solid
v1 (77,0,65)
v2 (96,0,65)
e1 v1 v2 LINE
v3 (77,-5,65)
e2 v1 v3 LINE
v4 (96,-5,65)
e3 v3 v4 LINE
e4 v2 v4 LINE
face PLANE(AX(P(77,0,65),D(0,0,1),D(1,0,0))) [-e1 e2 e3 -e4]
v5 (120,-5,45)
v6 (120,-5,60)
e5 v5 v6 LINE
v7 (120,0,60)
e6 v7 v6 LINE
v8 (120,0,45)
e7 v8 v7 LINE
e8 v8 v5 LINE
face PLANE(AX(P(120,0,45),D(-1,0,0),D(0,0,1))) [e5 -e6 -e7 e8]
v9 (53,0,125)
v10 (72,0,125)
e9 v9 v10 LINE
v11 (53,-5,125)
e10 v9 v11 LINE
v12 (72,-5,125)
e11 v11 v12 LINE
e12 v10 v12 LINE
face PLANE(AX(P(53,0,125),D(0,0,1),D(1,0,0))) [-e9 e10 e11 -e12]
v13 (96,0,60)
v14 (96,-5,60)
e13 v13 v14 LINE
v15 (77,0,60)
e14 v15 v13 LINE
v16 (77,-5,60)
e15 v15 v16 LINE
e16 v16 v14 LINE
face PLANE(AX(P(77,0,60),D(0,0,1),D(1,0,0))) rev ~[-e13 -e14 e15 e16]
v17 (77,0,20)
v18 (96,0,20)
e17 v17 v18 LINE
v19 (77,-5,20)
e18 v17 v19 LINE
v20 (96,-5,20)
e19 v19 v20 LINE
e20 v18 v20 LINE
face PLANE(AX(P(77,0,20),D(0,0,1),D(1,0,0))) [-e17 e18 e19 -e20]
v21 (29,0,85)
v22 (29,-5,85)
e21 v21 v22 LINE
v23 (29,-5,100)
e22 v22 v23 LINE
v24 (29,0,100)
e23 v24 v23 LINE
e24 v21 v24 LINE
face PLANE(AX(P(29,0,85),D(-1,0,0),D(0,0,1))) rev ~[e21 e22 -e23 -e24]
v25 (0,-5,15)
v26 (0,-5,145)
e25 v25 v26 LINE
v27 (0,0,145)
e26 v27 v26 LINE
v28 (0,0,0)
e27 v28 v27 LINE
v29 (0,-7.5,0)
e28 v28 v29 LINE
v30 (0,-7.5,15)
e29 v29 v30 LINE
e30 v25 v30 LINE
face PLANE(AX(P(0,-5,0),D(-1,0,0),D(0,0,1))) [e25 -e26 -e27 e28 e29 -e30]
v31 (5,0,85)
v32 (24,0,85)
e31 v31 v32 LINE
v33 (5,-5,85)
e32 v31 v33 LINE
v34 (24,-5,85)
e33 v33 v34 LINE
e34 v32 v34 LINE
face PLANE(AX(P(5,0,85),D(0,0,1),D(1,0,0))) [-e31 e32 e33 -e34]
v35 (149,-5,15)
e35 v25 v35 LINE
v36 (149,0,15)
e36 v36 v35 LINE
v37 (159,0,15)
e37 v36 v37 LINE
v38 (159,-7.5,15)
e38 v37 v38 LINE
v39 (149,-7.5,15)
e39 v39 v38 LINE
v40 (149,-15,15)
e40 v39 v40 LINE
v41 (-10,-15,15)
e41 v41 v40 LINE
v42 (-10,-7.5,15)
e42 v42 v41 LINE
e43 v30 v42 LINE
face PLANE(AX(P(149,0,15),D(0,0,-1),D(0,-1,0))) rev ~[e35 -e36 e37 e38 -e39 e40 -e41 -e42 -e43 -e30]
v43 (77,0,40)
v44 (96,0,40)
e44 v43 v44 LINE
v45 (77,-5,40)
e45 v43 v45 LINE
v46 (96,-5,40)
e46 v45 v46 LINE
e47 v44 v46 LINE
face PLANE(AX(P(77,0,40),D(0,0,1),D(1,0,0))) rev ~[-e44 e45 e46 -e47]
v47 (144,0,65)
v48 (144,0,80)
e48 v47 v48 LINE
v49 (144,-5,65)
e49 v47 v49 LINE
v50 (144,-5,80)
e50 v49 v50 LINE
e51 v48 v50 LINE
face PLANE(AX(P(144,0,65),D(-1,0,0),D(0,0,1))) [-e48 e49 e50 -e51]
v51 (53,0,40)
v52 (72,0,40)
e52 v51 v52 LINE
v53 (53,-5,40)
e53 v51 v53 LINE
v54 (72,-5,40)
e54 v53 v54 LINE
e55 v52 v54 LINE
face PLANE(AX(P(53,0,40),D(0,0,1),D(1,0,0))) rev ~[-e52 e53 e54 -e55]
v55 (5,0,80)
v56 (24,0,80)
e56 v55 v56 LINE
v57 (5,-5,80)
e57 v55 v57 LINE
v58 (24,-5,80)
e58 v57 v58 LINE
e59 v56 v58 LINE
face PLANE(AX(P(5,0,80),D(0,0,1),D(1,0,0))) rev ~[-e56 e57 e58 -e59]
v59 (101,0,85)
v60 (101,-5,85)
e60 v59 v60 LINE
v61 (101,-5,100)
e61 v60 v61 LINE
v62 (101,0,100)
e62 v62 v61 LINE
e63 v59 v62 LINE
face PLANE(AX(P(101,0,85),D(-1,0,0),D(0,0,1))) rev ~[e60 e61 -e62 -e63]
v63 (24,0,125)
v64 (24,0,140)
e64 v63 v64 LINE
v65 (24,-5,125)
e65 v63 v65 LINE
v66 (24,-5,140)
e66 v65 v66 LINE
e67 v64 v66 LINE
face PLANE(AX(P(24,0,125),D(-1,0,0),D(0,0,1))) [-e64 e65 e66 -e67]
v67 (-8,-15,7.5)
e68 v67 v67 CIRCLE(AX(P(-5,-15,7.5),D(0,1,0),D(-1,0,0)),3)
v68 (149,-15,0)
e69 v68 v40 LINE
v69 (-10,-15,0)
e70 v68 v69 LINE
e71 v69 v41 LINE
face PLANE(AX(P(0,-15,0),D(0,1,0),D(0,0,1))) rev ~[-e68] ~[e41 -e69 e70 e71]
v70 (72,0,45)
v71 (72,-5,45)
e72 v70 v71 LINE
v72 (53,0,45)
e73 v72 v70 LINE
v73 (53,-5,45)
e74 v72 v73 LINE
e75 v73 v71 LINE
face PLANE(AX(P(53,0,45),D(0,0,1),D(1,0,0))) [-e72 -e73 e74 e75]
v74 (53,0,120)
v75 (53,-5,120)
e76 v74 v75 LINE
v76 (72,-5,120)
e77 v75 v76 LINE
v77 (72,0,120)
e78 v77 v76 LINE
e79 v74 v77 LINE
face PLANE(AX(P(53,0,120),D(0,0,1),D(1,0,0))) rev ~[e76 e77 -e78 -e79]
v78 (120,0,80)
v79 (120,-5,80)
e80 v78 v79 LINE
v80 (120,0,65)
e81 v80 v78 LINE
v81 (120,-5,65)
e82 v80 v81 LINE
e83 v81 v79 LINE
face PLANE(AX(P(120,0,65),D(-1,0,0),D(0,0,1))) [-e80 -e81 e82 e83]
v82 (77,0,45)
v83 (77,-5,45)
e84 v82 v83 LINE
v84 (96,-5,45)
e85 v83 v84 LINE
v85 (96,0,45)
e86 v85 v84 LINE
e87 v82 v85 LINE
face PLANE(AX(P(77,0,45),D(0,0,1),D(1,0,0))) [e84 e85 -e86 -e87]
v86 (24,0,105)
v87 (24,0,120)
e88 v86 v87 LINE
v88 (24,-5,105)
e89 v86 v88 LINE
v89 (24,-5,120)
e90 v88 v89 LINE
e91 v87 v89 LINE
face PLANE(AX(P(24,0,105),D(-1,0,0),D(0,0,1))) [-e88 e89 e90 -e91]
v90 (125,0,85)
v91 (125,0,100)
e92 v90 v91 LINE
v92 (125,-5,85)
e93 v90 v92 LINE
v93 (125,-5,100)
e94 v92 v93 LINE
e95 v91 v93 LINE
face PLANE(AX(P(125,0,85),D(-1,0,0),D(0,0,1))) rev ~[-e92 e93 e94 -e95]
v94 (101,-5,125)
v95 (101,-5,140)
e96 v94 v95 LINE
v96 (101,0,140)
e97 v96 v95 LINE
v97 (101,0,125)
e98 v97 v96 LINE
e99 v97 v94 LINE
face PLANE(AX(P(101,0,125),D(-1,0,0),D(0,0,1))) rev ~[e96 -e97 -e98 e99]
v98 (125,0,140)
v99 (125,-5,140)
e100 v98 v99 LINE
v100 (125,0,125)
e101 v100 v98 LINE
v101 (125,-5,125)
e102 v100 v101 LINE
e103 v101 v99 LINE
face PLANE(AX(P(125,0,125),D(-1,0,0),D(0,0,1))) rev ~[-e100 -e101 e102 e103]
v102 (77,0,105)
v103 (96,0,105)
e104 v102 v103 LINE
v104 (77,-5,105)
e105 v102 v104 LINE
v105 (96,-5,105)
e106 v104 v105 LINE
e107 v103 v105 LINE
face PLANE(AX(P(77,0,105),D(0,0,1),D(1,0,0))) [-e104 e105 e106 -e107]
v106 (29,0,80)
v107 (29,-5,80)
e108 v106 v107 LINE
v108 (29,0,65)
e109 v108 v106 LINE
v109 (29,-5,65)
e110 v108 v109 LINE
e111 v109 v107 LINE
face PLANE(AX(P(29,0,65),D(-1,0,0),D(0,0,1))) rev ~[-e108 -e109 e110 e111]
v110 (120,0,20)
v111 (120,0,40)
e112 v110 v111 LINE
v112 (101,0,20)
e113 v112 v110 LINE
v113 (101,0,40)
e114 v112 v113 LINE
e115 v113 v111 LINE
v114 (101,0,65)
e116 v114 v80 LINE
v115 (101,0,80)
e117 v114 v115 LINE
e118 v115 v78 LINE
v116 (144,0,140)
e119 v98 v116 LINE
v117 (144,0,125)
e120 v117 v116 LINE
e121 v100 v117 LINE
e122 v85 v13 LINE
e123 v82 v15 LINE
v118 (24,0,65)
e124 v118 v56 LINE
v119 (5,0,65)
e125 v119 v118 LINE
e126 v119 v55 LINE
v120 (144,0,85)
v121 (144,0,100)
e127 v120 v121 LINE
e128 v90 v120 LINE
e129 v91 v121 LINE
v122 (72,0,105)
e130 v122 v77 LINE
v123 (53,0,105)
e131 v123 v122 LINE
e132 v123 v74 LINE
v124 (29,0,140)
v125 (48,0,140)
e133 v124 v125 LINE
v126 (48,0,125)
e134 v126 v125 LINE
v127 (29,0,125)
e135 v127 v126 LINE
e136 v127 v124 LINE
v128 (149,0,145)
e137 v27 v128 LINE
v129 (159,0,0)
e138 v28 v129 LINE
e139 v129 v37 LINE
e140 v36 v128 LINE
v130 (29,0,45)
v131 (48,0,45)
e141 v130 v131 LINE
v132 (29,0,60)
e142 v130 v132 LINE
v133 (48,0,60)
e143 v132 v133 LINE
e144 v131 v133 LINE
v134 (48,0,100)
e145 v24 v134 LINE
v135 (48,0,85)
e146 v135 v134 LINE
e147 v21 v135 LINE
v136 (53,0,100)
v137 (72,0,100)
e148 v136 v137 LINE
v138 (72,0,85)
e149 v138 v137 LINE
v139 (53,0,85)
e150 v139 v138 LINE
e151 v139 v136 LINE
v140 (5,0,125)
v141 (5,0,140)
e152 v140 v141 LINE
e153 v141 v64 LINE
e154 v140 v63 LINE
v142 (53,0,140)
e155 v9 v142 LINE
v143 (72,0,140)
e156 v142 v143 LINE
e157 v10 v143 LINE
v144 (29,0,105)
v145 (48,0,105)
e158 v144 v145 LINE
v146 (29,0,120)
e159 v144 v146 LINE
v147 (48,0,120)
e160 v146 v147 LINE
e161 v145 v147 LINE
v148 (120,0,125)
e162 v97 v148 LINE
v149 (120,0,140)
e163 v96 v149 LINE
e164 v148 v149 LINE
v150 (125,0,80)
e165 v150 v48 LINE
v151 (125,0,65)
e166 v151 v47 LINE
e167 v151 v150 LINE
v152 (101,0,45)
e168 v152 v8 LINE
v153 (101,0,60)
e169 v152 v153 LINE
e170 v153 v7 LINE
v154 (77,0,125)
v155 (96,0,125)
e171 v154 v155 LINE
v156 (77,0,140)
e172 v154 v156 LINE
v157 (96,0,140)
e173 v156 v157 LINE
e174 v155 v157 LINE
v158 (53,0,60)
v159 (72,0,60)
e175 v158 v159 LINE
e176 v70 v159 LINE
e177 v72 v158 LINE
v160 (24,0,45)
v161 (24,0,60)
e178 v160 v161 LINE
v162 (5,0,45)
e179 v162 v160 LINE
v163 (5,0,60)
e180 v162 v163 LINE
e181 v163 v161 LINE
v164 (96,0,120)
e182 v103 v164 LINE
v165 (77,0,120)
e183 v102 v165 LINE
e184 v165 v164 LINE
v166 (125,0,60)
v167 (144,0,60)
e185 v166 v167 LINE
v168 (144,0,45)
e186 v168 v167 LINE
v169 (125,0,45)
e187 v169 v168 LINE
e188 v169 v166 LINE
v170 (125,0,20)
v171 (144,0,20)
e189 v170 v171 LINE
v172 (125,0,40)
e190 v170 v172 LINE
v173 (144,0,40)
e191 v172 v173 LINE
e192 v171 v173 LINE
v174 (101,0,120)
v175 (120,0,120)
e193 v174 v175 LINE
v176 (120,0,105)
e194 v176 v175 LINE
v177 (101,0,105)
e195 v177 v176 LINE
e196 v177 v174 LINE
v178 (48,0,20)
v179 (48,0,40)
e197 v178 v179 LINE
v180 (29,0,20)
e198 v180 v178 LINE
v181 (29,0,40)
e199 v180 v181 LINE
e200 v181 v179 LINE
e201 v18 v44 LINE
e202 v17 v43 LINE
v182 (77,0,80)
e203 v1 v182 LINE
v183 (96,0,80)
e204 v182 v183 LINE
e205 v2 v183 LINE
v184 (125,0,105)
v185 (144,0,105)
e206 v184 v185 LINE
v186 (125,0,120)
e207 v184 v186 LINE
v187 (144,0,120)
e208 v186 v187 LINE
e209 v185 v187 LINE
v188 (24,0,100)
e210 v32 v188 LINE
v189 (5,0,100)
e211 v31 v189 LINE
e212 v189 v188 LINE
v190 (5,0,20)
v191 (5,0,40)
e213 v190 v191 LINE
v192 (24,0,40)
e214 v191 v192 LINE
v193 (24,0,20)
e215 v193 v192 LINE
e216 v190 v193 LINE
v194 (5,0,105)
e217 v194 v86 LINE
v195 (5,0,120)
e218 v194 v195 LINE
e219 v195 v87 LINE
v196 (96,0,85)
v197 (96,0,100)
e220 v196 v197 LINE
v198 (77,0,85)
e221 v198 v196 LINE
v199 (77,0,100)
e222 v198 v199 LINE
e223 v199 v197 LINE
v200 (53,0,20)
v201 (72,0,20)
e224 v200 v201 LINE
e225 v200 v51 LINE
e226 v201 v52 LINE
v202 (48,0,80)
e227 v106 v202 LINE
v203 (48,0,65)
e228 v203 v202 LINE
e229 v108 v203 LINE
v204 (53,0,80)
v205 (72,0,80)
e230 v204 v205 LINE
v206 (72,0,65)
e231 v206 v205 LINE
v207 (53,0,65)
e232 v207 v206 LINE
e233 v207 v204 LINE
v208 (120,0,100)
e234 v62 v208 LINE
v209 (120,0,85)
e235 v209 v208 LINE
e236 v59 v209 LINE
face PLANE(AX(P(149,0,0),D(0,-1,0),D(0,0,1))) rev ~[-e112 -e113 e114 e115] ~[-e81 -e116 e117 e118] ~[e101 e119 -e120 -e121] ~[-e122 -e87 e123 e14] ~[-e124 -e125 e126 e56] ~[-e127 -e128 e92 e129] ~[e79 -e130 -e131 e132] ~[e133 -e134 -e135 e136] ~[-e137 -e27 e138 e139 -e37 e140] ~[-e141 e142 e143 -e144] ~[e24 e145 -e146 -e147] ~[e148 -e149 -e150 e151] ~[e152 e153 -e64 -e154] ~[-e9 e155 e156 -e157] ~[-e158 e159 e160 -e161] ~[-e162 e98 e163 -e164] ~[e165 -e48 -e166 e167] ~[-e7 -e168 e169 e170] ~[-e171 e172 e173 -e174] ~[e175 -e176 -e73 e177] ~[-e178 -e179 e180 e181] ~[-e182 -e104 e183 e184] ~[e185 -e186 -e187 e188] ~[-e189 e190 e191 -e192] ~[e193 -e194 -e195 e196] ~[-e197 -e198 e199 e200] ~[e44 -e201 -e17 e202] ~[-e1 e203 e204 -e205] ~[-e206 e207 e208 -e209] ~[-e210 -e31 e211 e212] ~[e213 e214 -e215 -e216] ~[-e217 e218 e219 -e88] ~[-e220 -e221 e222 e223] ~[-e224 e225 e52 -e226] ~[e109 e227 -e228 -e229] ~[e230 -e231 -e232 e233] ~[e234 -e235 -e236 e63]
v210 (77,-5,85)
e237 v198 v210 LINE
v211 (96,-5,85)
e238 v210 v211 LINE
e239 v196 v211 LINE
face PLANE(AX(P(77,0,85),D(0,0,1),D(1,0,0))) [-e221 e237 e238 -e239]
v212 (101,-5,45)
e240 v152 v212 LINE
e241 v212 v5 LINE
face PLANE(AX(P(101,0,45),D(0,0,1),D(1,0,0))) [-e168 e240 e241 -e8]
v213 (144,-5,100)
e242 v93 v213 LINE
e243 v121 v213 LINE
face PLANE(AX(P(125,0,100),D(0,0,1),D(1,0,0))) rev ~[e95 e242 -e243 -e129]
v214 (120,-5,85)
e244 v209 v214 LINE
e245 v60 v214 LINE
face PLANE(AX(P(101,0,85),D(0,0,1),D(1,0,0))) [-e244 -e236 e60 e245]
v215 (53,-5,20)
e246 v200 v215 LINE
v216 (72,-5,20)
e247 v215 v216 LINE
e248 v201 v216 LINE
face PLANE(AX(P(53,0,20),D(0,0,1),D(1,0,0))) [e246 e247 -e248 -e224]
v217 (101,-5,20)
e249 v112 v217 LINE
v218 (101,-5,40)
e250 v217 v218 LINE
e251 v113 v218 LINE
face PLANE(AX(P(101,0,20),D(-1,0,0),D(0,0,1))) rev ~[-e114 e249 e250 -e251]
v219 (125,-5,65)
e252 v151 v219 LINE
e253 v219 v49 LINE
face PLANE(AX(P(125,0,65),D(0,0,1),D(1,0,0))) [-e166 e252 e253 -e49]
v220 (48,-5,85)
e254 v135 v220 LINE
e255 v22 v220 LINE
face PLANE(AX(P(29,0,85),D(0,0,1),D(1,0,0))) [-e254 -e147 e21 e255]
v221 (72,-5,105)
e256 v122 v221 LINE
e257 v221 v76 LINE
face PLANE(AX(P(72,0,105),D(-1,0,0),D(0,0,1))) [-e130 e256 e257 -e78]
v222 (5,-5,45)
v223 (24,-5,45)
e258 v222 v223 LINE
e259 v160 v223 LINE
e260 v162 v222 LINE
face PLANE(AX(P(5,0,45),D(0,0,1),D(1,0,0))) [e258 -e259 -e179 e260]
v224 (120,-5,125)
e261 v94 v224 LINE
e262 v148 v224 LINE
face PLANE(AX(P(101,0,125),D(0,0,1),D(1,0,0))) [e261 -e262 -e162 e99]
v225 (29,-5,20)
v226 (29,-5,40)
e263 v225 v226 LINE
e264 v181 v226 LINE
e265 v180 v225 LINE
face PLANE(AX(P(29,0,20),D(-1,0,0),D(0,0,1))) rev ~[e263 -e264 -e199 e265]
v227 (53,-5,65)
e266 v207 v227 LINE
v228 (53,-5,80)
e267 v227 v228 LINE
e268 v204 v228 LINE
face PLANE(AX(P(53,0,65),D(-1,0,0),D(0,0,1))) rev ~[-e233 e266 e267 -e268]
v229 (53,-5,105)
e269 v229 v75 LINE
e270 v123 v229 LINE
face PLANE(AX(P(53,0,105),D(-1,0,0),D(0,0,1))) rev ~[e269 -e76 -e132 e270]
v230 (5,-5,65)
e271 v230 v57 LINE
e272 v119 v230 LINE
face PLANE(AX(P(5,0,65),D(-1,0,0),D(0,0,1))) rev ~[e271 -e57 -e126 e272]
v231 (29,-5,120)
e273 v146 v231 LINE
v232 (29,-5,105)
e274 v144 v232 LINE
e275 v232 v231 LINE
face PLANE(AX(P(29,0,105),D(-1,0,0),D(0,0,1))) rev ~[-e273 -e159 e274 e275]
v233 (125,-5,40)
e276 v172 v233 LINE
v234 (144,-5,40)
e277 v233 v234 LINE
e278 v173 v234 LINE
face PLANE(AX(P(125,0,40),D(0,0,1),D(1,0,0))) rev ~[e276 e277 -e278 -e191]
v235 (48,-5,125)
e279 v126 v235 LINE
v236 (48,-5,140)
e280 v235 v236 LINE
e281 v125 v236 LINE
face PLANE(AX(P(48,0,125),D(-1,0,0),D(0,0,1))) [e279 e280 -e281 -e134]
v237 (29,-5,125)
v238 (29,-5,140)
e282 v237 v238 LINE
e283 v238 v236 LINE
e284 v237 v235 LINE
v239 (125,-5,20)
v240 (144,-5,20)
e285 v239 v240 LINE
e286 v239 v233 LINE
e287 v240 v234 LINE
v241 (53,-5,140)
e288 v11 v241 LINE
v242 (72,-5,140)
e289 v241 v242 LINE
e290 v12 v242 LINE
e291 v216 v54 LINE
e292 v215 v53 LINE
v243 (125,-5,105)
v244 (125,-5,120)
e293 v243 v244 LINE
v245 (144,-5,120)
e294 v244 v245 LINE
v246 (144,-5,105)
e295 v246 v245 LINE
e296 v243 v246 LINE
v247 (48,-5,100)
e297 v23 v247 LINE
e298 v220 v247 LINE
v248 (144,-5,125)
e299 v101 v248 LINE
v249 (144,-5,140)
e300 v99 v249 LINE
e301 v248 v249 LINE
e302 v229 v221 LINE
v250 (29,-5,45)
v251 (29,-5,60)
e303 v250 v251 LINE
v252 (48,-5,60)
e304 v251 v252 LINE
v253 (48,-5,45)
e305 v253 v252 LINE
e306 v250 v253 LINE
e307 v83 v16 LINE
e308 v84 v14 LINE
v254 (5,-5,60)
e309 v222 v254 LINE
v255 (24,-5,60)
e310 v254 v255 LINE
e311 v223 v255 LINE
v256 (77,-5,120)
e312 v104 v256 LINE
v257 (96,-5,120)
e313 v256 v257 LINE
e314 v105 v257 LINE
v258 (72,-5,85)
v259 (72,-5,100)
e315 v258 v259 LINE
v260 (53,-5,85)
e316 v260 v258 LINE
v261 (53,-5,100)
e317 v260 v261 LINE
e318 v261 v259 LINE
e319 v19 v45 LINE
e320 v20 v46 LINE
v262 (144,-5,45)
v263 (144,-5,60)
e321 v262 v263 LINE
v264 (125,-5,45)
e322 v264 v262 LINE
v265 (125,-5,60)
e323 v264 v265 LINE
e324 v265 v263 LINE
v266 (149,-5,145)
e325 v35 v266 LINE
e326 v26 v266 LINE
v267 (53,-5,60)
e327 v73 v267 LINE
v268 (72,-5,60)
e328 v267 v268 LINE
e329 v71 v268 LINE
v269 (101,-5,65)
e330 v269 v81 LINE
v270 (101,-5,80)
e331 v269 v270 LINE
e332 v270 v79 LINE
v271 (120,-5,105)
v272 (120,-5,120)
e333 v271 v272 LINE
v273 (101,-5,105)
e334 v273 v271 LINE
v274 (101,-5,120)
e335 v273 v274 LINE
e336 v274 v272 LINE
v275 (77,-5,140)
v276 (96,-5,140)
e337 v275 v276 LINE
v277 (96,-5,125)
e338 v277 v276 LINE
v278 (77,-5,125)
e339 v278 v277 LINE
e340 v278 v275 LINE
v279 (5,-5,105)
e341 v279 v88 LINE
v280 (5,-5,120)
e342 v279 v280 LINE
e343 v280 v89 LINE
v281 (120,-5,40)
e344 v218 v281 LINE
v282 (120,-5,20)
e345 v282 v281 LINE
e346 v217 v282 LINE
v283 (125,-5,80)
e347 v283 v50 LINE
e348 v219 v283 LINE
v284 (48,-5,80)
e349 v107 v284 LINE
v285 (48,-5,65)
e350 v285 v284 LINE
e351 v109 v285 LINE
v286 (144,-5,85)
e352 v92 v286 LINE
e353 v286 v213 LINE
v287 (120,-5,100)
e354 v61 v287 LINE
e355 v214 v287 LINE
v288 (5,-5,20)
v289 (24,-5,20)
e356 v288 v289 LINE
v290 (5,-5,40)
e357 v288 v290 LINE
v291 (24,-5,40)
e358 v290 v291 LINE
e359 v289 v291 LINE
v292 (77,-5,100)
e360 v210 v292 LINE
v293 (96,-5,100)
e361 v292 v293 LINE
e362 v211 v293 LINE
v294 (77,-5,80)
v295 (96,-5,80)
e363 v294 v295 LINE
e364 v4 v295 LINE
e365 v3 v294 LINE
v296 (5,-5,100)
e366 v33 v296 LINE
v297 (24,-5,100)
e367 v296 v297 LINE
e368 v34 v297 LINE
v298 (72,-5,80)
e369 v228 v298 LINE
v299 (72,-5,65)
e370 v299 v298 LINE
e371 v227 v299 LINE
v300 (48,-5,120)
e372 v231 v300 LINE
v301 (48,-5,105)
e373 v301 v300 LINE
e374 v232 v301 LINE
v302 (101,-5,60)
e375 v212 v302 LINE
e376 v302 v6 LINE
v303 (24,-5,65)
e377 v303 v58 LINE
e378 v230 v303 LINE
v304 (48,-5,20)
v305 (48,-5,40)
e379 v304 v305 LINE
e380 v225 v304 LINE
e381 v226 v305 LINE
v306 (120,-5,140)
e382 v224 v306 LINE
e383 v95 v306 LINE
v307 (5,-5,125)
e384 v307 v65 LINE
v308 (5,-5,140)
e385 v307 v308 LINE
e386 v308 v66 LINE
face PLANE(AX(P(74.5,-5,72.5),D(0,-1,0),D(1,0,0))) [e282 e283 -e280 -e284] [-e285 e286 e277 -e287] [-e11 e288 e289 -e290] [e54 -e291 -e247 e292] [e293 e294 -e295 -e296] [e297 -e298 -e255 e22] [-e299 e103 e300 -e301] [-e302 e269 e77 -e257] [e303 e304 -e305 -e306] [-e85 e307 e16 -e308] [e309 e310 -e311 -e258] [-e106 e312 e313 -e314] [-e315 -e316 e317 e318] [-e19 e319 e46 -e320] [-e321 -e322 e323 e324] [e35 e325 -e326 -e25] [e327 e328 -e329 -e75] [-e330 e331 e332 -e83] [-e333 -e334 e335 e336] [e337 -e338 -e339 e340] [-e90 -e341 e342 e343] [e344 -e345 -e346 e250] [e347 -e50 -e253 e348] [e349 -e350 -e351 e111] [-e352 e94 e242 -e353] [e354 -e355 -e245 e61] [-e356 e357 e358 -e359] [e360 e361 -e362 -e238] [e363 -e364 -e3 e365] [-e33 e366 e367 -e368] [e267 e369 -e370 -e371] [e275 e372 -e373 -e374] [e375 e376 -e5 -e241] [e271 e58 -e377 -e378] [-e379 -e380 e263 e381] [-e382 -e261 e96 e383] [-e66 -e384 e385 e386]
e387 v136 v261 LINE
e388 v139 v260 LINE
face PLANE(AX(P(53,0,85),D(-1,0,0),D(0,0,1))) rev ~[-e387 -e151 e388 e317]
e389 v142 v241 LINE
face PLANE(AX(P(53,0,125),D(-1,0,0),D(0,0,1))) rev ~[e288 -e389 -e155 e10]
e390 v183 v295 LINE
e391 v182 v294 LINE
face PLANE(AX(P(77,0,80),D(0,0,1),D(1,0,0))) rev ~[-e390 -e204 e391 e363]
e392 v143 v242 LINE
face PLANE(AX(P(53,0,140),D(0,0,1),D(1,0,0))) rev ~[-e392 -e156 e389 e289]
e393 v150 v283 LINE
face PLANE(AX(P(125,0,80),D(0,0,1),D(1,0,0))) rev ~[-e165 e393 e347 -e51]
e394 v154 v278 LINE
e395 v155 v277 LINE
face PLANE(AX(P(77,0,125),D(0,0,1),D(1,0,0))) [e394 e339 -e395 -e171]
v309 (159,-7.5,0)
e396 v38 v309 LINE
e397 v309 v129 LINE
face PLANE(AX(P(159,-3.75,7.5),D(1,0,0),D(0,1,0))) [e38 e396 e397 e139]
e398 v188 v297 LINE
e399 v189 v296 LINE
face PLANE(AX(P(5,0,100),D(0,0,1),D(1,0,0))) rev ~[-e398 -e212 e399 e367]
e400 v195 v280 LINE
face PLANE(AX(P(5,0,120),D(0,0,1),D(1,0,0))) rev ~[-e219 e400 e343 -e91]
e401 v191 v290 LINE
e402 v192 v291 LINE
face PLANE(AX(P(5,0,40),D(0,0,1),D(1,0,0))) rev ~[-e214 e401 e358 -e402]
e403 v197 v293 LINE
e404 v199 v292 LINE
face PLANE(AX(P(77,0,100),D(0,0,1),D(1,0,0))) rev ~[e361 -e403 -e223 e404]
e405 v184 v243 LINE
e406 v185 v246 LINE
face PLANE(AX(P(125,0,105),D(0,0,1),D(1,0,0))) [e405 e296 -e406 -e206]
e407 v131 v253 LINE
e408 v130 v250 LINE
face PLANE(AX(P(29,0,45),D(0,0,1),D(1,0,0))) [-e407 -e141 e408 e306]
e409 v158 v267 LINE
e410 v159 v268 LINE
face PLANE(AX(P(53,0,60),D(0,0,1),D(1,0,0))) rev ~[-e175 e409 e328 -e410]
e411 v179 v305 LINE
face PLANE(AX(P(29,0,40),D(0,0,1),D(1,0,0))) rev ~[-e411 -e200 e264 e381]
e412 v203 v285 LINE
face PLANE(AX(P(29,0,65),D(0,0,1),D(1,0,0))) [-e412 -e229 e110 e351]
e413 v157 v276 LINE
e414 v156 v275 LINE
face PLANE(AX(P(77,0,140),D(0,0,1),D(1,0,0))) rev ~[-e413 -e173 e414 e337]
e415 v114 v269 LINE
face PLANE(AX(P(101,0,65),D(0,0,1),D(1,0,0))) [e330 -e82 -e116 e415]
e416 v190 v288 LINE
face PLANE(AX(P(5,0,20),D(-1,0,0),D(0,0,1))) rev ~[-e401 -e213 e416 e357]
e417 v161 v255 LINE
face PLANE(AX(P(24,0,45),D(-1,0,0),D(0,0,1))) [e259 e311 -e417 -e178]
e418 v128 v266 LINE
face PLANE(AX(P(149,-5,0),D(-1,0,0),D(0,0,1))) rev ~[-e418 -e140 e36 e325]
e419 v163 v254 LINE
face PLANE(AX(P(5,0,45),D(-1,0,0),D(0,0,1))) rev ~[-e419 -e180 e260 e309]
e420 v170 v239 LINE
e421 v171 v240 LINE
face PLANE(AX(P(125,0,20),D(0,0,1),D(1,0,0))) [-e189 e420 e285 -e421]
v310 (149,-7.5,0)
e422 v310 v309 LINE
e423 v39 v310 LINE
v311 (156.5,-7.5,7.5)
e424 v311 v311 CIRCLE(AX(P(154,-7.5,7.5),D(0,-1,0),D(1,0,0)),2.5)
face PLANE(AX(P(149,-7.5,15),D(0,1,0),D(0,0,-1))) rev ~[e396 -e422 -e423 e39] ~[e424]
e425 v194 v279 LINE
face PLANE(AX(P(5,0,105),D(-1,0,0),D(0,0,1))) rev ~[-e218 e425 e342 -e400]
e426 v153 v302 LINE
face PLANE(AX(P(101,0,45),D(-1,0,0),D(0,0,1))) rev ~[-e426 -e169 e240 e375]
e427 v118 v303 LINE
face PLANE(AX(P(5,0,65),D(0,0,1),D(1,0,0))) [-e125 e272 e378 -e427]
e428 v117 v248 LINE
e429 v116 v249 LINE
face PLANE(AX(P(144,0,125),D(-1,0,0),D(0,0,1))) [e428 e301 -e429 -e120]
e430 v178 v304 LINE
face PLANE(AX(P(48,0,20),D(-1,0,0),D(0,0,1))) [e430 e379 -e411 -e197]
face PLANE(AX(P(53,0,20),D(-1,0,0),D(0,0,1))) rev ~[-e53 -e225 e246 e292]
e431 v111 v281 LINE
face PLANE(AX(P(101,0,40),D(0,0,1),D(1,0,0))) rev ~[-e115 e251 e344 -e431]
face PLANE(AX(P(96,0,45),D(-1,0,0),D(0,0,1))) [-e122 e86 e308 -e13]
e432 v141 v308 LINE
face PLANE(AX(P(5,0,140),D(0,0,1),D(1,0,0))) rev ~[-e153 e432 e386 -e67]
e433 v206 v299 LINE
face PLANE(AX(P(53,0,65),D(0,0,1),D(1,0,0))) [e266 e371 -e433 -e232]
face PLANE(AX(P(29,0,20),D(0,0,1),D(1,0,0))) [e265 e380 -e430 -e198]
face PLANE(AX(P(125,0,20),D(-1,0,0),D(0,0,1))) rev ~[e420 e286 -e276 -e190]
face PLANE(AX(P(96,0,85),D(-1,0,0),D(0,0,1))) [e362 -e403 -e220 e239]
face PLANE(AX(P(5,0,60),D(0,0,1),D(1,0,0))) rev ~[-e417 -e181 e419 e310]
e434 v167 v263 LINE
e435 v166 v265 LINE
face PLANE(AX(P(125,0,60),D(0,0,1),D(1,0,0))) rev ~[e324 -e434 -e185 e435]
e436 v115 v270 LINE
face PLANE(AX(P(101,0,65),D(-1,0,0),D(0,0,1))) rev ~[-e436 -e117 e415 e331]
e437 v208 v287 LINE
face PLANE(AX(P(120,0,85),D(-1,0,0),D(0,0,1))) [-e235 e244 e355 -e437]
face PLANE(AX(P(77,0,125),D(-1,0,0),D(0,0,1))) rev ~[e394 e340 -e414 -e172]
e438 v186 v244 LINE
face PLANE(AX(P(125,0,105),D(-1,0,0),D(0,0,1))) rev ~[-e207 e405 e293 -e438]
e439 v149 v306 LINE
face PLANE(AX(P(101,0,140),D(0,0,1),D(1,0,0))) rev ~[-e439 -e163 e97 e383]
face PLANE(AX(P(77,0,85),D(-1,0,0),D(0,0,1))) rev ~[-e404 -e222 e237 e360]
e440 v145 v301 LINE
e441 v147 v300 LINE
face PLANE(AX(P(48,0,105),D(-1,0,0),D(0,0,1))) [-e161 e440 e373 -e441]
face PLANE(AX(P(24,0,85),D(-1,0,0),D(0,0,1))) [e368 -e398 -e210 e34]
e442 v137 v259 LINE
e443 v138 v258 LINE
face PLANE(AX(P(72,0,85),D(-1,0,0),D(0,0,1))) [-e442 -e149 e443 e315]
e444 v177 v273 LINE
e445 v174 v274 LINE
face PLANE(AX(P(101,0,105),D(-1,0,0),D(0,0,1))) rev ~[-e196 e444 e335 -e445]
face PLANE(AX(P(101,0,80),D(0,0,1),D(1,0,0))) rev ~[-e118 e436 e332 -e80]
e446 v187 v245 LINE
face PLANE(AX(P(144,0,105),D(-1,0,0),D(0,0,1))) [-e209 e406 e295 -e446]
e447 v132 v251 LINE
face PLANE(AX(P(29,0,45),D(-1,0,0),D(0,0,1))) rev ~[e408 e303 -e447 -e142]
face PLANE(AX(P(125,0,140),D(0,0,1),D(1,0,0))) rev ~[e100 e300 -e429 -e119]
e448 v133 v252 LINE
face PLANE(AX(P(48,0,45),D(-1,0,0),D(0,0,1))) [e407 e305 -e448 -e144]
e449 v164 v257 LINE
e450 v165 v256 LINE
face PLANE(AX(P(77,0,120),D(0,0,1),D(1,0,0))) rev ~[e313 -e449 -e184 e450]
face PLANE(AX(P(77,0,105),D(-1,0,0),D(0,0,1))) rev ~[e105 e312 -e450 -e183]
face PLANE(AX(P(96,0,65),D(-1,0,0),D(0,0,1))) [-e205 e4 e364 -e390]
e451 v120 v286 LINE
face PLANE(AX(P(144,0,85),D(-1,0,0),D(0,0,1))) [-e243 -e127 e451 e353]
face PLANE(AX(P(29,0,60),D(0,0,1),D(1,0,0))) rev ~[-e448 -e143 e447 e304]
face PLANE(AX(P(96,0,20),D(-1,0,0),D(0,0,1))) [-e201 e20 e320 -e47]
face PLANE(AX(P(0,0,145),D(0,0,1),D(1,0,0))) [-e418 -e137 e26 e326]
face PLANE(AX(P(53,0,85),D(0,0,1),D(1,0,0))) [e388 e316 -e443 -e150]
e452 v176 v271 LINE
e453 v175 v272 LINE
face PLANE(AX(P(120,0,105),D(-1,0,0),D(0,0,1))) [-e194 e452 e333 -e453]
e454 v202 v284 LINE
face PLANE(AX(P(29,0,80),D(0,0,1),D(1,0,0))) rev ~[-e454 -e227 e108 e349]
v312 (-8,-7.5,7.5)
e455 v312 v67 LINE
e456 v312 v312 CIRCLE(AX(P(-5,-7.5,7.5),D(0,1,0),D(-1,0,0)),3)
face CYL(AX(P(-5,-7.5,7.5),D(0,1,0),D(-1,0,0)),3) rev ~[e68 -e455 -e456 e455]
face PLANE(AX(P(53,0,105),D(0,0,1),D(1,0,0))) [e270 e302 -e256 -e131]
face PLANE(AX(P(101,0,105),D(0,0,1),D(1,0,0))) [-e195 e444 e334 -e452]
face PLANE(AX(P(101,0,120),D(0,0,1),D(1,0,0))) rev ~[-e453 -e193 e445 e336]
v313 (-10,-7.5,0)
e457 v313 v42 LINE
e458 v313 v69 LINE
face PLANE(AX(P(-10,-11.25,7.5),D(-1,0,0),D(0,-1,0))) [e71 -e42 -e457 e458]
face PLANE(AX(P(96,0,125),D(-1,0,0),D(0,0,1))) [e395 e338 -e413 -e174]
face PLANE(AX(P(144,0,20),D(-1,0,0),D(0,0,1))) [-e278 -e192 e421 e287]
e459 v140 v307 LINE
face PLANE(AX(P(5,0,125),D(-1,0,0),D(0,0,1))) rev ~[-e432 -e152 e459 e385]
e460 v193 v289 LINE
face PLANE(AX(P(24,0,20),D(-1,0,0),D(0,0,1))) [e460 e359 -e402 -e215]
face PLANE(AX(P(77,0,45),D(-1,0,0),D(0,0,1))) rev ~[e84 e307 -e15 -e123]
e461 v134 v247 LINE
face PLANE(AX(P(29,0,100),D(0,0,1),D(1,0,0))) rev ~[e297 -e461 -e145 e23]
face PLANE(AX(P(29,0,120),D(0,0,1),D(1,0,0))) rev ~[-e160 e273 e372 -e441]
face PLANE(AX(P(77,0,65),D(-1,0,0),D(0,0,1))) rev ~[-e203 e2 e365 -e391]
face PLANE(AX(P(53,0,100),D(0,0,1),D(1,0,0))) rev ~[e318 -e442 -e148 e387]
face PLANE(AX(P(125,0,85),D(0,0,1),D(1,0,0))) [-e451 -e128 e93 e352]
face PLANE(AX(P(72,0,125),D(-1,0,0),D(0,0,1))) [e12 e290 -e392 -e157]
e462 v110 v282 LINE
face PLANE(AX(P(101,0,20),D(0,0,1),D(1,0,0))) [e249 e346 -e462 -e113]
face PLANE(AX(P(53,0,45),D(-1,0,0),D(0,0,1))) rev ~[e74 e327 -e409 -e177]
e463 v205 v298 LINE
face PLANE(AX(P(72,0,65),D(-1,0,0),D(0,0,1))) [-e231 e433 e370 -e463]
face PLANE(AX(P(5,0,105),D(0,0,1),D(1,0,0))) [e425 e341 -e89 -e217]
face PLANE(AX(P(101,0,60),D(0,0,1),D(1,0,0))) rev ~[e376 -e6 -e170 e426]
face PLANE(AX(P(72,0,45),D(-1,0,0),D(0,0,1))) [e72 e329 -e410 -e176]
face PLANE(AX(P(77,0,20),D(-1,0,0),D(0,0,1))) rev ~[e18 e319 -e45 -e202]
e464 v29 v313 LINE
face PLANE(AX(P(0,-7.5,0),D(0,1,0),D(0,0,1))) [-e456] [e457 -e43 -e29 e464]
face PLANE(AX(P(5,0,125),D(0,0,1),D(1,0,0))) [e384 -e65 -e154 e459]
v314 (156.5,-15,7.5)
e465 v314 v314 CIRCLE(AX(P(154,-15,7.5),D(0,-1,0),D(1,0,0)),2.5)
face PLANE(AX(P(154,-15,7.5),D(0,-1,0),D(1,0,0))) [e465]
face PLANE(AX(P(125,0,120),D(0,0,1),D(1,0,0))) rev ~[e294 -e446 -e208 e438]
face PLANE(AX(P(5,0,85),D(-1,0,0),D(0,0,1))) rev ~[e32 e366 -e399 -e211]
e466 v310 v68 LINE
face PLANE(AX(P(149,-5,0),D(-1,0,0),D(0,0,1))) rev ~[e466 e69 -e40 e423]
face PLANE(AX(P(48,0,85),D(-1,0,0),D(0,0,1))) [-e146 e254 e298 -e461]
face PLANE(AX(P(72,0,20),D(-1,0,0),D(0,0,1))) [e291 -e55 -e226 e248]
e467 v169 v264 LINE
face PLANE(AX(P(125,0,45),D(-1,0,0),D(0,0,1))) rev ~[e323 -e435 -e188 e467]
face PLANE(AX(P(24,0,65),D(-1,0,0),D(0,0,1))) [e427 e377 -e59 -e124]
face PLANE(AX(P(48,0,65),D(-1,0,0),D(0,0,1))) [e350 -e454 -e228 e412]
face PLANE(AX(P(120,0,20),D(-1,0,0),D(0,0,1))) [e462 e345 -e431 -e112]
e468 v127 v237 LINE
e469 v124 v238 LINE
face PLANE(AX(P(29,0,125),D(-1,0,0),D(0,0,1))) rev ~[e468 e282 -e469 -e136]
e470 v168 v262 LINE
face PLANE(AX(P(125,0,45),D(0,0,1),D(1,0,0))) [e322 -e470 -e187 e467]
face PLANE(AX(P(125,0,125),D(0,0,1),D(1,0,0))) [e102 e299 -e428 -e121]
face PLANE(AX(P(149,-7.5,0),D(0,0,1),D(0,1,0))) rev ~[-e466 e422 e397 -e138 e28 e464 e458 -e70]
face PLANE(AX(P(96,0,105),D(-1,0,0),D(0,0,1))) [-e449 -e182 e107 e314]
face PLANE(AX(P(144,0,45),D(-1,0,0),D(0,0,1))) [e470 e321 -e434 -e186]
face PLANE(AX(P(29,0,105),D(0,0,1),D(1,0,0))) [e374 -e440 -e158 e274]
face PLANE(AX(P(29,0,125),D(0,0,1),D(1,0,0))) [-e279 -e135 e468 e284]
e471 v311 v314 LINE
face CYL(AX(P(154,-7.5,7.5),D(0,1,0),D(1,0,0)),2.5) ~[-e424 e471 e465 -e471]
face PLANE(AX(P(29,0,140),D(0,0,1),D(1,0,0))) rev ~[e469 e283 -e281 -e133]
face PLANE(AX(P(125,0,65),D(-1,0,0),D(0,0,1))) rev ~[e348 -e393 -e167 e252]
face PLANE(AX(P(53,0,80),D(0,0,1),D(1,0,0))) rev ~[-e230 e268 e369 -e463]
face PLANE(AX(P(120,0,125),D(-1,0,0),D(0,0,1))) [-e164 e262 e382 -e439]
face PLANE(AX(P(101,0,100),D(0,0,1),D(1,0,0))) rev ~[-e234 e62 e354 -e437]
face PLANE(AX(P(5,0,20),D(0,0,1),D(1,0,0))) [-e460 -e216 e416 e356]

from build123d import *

# Parameters (mm, degrees)
F0_W      = 149
F0_H      = 145
F0_W_2    = 19
F0_H_2    = 20
F0_H_3    = 15
F1_DEPTH  = 5
F2_W      = 149
F2_H      = 15
F3_DEPTH  = 10
F4_W      = 7.5
F4_H      = 15
F5_DEPTH  = 10
F6_R      = 3
F7_DEPTH  = 7.5
F9_DEPTH  = 10
F10_R     = 2.5
F11_DEPTH = 7.5


with BuildPart() as f1:
    # F0 (on Front) → F1 (new body)
    with BuildSketch(Plane.XZ):
        with Locations((74.5, 72.5)):
            Rectangle(F0_W, F0_H)
        with Locations((14.5, 30)):
            Rectangle(F0_W_2, F0_H_2, mode=Mode.SUBTRACT)
        with Locations((38.5, 30)):
            Rectangle(F0_W_2, F0_H_2, mode=Mode.SUBTRACT)
        with Locations((62.5, 30)):
            Rectangle(F0_W_2, F0_H_2, mode=Mode.SUBTRACT)
        with Locations((14.5, 52.5)):
            Rectangle(F0_W_2, F0_H_3, mode=Mode.SUBTRACT)
        with Locations((38.5, 52.5)):
            Rectangle(F0_W_2, F0_H_3, mode=Mode.SUBTRACT)
        with Locations((62.5, 52.5)):
            Rectangle(F0_W_2, F0_H_3, mode=Mode.SUBTRACT)
        with Locations((86.5, 30)):
            Rectangle(F0_W_2, F0_H_2, mode=Mode.SUBTRACT)
        with Locations((110.5, 30)):
            Rectangle(F0_W_2, F0_H_2, mode=Mode.SUBTRACT)
        with Locations((134.5, 30)):
            Rectangle(F0_W_2, F0_H_2, mode=Mode.SUBTRACT)
        with Locations((86.5, 52.5)):
            Rectangle(F0_W_2, F0_H_3, mode=Mode.SUBTRACT)
        with Locations((110.5, 52.5)):
            Rectangle(F0_W_2, F0_H_3, mode=Mode.SUBTRACT)
        with Locations((134.5, 52.5)):
            Rectangle(F0_W_2, F0_H_3, mode=Mode.SUBTRACT)
        with Locations((14.5, 72.5)):
            Rectangle(F0_W_2, F0_H_3, mode=Mode.SUBTRACT)
        with Locations((14.5, 92.5)):
            Rectangle(F0_W_2, F0_H_3, mode=Mode.SUBTRACT)
        with Locations((38.5, 72.5)):
            Rectangle(F0_W_2, F0_H_3, mode=Mode.SUBTRACT)
        with Locations((62.5, 72.5)):
            Rectangle(F0_W_2, F0_H_3, mode=Mode.SUBTRACT)
        with Locations((38.5, 92.5)):
            Rectangle(F0_W_2, F0_H_3, mode=Mode.SUBTRACT)
        with Locations((62.5, 92.5)):
            Rectangle(F0_W_2, F0_H_3, mode=Mode.SUBTRACT)
        with Locations((14.5, 112.5)):
            Rectangle(F0_W_2, F0_H_3, mode=Mode.SUBTRACT)
        with Locations((14.5, 132.5)):
            Rectangle(F0_W_2, F0_H_3, mode=Mode.SUBTRACT)
        with Locations((38.5, 112.5)):
            Rectangle(F0_W_2, F0_H_3, mode=Mode.SUBTRACT)
        with Locations((62.5, 112.5)):
            Rectangle(F0_W_2, F0_H_3, mode=Mode.SUBTRACT)
        with Locations((38.5, 132.5)):
            Rectangle(F0_W_2, F0_H_3, mode=Mode.SUBTRACT)
        with Locations((62.5, 132.5)):
            Rectangle(F0_W_2, F0_H_3, mode=Mode.SUBTRACT)
        with Locations((86.5, 72.5)):
            Rectangle(F0_W_2, F0_H_3, mode=Mode.SUBTRACT)
        with Locations((110.5, 72.5)):
            Rectangle(F0_W_2, F0_H_3, mode=Mode.SUBTRACT)
        with Locations((86.5, 92.5)):
            Rectangle(F0_W_2, F0_H_3, mode=Mode.SUBTRACT)
        with Locations((110.5, 92.5)):
            Rectangle(F0_W_2, F0_H_3, mode=Mode.SUBTRACT)
        with Locations((134.5, 72.5)):
            Rectangle(F0_W_2, F0_H_3, mode=Mode.SUBTRACT)
        with Locations((134.5, 92.5)):
            Rectangle(F0_W_2, F0_H_3, mode=Mode.SUBTRACT)
        with Locations((86.5, 112.5)):
            Rectangle(F0_W_2, F0_H_3, mode=Mode.SUBTRACT)
        with Locations((110.5, 112.5)):
            Rectangle(F0_W_2, F0_H_3, mode=Mode.SUBTRACT)
        with Locations((86.5, 132.5)):
            Rectangle(F0_W_2, F0_H_3, mode=Mode.SUBTRACT)
        with Locations((110.5, 132.5)):
            Rectangle(F0_W_2, F0_H_3, mode=Mode.SUBTRACT)
        with Locations((134.5, 112.5)):
            Rectangle(F0_W_2, F0_H_3, mode=Mode.SUBTRACT)
        with Locations((134.5, 132.5)):
            Rectangle(F0_W_2, F0_H_3, mode=Mode.SUBTRACT)
    extrude(amount=F1_DEPTH)

    # F2 (on face) → F3 (join)
    with BuildSketch(Plane.XZ.offset(5)):
        with Locations((74.5, 7.5)):
            Rectangle(F2_W, F2_H)
    extrude(amount=F3_DEPTH)

    # F4 (on face) → F5 (join)
    with BuildSketch(Plane(origin=(0, 0, 0), x_dir=(0, -1, 0), z_dir=(-1, 0, 0))):
        with Locations((11.25, 7.5)):
            Rectangle(F4_W, F4_H)
    extrude(amount=F5_DEPTH)

    # F6 (on face) → F7 (cut, through all)
    with BuildSketch(Plane(origin=(0, -7.5, 0), x_dir=(-1, 0, 0), z_dir=(0, 1, 0))):
        with Locations((5, 7.5)):
            Circle(F6_R)
    extrude(amount=-F7_DEPTH, mode=Mode.SUBTRACT)

    # F8 (on face) → F9 (join)
    with BuildSketch(Plane.YZ.offset(149)):
        Polygon((-7.5, 15), (-7.5, 0), (0, 0), (0, 15), (-5, 15), align=None)
    extrude(amount=F9_DEPTH)

    # F10 (on face) → F11 (join)
    with BuildSketch(Plane.XZ.offset(7.5)):
        with Locations((154, 7.5)):
            Circle(F10_R)
    extrude(amount=F11_DEPTH)


solid = f1.part
